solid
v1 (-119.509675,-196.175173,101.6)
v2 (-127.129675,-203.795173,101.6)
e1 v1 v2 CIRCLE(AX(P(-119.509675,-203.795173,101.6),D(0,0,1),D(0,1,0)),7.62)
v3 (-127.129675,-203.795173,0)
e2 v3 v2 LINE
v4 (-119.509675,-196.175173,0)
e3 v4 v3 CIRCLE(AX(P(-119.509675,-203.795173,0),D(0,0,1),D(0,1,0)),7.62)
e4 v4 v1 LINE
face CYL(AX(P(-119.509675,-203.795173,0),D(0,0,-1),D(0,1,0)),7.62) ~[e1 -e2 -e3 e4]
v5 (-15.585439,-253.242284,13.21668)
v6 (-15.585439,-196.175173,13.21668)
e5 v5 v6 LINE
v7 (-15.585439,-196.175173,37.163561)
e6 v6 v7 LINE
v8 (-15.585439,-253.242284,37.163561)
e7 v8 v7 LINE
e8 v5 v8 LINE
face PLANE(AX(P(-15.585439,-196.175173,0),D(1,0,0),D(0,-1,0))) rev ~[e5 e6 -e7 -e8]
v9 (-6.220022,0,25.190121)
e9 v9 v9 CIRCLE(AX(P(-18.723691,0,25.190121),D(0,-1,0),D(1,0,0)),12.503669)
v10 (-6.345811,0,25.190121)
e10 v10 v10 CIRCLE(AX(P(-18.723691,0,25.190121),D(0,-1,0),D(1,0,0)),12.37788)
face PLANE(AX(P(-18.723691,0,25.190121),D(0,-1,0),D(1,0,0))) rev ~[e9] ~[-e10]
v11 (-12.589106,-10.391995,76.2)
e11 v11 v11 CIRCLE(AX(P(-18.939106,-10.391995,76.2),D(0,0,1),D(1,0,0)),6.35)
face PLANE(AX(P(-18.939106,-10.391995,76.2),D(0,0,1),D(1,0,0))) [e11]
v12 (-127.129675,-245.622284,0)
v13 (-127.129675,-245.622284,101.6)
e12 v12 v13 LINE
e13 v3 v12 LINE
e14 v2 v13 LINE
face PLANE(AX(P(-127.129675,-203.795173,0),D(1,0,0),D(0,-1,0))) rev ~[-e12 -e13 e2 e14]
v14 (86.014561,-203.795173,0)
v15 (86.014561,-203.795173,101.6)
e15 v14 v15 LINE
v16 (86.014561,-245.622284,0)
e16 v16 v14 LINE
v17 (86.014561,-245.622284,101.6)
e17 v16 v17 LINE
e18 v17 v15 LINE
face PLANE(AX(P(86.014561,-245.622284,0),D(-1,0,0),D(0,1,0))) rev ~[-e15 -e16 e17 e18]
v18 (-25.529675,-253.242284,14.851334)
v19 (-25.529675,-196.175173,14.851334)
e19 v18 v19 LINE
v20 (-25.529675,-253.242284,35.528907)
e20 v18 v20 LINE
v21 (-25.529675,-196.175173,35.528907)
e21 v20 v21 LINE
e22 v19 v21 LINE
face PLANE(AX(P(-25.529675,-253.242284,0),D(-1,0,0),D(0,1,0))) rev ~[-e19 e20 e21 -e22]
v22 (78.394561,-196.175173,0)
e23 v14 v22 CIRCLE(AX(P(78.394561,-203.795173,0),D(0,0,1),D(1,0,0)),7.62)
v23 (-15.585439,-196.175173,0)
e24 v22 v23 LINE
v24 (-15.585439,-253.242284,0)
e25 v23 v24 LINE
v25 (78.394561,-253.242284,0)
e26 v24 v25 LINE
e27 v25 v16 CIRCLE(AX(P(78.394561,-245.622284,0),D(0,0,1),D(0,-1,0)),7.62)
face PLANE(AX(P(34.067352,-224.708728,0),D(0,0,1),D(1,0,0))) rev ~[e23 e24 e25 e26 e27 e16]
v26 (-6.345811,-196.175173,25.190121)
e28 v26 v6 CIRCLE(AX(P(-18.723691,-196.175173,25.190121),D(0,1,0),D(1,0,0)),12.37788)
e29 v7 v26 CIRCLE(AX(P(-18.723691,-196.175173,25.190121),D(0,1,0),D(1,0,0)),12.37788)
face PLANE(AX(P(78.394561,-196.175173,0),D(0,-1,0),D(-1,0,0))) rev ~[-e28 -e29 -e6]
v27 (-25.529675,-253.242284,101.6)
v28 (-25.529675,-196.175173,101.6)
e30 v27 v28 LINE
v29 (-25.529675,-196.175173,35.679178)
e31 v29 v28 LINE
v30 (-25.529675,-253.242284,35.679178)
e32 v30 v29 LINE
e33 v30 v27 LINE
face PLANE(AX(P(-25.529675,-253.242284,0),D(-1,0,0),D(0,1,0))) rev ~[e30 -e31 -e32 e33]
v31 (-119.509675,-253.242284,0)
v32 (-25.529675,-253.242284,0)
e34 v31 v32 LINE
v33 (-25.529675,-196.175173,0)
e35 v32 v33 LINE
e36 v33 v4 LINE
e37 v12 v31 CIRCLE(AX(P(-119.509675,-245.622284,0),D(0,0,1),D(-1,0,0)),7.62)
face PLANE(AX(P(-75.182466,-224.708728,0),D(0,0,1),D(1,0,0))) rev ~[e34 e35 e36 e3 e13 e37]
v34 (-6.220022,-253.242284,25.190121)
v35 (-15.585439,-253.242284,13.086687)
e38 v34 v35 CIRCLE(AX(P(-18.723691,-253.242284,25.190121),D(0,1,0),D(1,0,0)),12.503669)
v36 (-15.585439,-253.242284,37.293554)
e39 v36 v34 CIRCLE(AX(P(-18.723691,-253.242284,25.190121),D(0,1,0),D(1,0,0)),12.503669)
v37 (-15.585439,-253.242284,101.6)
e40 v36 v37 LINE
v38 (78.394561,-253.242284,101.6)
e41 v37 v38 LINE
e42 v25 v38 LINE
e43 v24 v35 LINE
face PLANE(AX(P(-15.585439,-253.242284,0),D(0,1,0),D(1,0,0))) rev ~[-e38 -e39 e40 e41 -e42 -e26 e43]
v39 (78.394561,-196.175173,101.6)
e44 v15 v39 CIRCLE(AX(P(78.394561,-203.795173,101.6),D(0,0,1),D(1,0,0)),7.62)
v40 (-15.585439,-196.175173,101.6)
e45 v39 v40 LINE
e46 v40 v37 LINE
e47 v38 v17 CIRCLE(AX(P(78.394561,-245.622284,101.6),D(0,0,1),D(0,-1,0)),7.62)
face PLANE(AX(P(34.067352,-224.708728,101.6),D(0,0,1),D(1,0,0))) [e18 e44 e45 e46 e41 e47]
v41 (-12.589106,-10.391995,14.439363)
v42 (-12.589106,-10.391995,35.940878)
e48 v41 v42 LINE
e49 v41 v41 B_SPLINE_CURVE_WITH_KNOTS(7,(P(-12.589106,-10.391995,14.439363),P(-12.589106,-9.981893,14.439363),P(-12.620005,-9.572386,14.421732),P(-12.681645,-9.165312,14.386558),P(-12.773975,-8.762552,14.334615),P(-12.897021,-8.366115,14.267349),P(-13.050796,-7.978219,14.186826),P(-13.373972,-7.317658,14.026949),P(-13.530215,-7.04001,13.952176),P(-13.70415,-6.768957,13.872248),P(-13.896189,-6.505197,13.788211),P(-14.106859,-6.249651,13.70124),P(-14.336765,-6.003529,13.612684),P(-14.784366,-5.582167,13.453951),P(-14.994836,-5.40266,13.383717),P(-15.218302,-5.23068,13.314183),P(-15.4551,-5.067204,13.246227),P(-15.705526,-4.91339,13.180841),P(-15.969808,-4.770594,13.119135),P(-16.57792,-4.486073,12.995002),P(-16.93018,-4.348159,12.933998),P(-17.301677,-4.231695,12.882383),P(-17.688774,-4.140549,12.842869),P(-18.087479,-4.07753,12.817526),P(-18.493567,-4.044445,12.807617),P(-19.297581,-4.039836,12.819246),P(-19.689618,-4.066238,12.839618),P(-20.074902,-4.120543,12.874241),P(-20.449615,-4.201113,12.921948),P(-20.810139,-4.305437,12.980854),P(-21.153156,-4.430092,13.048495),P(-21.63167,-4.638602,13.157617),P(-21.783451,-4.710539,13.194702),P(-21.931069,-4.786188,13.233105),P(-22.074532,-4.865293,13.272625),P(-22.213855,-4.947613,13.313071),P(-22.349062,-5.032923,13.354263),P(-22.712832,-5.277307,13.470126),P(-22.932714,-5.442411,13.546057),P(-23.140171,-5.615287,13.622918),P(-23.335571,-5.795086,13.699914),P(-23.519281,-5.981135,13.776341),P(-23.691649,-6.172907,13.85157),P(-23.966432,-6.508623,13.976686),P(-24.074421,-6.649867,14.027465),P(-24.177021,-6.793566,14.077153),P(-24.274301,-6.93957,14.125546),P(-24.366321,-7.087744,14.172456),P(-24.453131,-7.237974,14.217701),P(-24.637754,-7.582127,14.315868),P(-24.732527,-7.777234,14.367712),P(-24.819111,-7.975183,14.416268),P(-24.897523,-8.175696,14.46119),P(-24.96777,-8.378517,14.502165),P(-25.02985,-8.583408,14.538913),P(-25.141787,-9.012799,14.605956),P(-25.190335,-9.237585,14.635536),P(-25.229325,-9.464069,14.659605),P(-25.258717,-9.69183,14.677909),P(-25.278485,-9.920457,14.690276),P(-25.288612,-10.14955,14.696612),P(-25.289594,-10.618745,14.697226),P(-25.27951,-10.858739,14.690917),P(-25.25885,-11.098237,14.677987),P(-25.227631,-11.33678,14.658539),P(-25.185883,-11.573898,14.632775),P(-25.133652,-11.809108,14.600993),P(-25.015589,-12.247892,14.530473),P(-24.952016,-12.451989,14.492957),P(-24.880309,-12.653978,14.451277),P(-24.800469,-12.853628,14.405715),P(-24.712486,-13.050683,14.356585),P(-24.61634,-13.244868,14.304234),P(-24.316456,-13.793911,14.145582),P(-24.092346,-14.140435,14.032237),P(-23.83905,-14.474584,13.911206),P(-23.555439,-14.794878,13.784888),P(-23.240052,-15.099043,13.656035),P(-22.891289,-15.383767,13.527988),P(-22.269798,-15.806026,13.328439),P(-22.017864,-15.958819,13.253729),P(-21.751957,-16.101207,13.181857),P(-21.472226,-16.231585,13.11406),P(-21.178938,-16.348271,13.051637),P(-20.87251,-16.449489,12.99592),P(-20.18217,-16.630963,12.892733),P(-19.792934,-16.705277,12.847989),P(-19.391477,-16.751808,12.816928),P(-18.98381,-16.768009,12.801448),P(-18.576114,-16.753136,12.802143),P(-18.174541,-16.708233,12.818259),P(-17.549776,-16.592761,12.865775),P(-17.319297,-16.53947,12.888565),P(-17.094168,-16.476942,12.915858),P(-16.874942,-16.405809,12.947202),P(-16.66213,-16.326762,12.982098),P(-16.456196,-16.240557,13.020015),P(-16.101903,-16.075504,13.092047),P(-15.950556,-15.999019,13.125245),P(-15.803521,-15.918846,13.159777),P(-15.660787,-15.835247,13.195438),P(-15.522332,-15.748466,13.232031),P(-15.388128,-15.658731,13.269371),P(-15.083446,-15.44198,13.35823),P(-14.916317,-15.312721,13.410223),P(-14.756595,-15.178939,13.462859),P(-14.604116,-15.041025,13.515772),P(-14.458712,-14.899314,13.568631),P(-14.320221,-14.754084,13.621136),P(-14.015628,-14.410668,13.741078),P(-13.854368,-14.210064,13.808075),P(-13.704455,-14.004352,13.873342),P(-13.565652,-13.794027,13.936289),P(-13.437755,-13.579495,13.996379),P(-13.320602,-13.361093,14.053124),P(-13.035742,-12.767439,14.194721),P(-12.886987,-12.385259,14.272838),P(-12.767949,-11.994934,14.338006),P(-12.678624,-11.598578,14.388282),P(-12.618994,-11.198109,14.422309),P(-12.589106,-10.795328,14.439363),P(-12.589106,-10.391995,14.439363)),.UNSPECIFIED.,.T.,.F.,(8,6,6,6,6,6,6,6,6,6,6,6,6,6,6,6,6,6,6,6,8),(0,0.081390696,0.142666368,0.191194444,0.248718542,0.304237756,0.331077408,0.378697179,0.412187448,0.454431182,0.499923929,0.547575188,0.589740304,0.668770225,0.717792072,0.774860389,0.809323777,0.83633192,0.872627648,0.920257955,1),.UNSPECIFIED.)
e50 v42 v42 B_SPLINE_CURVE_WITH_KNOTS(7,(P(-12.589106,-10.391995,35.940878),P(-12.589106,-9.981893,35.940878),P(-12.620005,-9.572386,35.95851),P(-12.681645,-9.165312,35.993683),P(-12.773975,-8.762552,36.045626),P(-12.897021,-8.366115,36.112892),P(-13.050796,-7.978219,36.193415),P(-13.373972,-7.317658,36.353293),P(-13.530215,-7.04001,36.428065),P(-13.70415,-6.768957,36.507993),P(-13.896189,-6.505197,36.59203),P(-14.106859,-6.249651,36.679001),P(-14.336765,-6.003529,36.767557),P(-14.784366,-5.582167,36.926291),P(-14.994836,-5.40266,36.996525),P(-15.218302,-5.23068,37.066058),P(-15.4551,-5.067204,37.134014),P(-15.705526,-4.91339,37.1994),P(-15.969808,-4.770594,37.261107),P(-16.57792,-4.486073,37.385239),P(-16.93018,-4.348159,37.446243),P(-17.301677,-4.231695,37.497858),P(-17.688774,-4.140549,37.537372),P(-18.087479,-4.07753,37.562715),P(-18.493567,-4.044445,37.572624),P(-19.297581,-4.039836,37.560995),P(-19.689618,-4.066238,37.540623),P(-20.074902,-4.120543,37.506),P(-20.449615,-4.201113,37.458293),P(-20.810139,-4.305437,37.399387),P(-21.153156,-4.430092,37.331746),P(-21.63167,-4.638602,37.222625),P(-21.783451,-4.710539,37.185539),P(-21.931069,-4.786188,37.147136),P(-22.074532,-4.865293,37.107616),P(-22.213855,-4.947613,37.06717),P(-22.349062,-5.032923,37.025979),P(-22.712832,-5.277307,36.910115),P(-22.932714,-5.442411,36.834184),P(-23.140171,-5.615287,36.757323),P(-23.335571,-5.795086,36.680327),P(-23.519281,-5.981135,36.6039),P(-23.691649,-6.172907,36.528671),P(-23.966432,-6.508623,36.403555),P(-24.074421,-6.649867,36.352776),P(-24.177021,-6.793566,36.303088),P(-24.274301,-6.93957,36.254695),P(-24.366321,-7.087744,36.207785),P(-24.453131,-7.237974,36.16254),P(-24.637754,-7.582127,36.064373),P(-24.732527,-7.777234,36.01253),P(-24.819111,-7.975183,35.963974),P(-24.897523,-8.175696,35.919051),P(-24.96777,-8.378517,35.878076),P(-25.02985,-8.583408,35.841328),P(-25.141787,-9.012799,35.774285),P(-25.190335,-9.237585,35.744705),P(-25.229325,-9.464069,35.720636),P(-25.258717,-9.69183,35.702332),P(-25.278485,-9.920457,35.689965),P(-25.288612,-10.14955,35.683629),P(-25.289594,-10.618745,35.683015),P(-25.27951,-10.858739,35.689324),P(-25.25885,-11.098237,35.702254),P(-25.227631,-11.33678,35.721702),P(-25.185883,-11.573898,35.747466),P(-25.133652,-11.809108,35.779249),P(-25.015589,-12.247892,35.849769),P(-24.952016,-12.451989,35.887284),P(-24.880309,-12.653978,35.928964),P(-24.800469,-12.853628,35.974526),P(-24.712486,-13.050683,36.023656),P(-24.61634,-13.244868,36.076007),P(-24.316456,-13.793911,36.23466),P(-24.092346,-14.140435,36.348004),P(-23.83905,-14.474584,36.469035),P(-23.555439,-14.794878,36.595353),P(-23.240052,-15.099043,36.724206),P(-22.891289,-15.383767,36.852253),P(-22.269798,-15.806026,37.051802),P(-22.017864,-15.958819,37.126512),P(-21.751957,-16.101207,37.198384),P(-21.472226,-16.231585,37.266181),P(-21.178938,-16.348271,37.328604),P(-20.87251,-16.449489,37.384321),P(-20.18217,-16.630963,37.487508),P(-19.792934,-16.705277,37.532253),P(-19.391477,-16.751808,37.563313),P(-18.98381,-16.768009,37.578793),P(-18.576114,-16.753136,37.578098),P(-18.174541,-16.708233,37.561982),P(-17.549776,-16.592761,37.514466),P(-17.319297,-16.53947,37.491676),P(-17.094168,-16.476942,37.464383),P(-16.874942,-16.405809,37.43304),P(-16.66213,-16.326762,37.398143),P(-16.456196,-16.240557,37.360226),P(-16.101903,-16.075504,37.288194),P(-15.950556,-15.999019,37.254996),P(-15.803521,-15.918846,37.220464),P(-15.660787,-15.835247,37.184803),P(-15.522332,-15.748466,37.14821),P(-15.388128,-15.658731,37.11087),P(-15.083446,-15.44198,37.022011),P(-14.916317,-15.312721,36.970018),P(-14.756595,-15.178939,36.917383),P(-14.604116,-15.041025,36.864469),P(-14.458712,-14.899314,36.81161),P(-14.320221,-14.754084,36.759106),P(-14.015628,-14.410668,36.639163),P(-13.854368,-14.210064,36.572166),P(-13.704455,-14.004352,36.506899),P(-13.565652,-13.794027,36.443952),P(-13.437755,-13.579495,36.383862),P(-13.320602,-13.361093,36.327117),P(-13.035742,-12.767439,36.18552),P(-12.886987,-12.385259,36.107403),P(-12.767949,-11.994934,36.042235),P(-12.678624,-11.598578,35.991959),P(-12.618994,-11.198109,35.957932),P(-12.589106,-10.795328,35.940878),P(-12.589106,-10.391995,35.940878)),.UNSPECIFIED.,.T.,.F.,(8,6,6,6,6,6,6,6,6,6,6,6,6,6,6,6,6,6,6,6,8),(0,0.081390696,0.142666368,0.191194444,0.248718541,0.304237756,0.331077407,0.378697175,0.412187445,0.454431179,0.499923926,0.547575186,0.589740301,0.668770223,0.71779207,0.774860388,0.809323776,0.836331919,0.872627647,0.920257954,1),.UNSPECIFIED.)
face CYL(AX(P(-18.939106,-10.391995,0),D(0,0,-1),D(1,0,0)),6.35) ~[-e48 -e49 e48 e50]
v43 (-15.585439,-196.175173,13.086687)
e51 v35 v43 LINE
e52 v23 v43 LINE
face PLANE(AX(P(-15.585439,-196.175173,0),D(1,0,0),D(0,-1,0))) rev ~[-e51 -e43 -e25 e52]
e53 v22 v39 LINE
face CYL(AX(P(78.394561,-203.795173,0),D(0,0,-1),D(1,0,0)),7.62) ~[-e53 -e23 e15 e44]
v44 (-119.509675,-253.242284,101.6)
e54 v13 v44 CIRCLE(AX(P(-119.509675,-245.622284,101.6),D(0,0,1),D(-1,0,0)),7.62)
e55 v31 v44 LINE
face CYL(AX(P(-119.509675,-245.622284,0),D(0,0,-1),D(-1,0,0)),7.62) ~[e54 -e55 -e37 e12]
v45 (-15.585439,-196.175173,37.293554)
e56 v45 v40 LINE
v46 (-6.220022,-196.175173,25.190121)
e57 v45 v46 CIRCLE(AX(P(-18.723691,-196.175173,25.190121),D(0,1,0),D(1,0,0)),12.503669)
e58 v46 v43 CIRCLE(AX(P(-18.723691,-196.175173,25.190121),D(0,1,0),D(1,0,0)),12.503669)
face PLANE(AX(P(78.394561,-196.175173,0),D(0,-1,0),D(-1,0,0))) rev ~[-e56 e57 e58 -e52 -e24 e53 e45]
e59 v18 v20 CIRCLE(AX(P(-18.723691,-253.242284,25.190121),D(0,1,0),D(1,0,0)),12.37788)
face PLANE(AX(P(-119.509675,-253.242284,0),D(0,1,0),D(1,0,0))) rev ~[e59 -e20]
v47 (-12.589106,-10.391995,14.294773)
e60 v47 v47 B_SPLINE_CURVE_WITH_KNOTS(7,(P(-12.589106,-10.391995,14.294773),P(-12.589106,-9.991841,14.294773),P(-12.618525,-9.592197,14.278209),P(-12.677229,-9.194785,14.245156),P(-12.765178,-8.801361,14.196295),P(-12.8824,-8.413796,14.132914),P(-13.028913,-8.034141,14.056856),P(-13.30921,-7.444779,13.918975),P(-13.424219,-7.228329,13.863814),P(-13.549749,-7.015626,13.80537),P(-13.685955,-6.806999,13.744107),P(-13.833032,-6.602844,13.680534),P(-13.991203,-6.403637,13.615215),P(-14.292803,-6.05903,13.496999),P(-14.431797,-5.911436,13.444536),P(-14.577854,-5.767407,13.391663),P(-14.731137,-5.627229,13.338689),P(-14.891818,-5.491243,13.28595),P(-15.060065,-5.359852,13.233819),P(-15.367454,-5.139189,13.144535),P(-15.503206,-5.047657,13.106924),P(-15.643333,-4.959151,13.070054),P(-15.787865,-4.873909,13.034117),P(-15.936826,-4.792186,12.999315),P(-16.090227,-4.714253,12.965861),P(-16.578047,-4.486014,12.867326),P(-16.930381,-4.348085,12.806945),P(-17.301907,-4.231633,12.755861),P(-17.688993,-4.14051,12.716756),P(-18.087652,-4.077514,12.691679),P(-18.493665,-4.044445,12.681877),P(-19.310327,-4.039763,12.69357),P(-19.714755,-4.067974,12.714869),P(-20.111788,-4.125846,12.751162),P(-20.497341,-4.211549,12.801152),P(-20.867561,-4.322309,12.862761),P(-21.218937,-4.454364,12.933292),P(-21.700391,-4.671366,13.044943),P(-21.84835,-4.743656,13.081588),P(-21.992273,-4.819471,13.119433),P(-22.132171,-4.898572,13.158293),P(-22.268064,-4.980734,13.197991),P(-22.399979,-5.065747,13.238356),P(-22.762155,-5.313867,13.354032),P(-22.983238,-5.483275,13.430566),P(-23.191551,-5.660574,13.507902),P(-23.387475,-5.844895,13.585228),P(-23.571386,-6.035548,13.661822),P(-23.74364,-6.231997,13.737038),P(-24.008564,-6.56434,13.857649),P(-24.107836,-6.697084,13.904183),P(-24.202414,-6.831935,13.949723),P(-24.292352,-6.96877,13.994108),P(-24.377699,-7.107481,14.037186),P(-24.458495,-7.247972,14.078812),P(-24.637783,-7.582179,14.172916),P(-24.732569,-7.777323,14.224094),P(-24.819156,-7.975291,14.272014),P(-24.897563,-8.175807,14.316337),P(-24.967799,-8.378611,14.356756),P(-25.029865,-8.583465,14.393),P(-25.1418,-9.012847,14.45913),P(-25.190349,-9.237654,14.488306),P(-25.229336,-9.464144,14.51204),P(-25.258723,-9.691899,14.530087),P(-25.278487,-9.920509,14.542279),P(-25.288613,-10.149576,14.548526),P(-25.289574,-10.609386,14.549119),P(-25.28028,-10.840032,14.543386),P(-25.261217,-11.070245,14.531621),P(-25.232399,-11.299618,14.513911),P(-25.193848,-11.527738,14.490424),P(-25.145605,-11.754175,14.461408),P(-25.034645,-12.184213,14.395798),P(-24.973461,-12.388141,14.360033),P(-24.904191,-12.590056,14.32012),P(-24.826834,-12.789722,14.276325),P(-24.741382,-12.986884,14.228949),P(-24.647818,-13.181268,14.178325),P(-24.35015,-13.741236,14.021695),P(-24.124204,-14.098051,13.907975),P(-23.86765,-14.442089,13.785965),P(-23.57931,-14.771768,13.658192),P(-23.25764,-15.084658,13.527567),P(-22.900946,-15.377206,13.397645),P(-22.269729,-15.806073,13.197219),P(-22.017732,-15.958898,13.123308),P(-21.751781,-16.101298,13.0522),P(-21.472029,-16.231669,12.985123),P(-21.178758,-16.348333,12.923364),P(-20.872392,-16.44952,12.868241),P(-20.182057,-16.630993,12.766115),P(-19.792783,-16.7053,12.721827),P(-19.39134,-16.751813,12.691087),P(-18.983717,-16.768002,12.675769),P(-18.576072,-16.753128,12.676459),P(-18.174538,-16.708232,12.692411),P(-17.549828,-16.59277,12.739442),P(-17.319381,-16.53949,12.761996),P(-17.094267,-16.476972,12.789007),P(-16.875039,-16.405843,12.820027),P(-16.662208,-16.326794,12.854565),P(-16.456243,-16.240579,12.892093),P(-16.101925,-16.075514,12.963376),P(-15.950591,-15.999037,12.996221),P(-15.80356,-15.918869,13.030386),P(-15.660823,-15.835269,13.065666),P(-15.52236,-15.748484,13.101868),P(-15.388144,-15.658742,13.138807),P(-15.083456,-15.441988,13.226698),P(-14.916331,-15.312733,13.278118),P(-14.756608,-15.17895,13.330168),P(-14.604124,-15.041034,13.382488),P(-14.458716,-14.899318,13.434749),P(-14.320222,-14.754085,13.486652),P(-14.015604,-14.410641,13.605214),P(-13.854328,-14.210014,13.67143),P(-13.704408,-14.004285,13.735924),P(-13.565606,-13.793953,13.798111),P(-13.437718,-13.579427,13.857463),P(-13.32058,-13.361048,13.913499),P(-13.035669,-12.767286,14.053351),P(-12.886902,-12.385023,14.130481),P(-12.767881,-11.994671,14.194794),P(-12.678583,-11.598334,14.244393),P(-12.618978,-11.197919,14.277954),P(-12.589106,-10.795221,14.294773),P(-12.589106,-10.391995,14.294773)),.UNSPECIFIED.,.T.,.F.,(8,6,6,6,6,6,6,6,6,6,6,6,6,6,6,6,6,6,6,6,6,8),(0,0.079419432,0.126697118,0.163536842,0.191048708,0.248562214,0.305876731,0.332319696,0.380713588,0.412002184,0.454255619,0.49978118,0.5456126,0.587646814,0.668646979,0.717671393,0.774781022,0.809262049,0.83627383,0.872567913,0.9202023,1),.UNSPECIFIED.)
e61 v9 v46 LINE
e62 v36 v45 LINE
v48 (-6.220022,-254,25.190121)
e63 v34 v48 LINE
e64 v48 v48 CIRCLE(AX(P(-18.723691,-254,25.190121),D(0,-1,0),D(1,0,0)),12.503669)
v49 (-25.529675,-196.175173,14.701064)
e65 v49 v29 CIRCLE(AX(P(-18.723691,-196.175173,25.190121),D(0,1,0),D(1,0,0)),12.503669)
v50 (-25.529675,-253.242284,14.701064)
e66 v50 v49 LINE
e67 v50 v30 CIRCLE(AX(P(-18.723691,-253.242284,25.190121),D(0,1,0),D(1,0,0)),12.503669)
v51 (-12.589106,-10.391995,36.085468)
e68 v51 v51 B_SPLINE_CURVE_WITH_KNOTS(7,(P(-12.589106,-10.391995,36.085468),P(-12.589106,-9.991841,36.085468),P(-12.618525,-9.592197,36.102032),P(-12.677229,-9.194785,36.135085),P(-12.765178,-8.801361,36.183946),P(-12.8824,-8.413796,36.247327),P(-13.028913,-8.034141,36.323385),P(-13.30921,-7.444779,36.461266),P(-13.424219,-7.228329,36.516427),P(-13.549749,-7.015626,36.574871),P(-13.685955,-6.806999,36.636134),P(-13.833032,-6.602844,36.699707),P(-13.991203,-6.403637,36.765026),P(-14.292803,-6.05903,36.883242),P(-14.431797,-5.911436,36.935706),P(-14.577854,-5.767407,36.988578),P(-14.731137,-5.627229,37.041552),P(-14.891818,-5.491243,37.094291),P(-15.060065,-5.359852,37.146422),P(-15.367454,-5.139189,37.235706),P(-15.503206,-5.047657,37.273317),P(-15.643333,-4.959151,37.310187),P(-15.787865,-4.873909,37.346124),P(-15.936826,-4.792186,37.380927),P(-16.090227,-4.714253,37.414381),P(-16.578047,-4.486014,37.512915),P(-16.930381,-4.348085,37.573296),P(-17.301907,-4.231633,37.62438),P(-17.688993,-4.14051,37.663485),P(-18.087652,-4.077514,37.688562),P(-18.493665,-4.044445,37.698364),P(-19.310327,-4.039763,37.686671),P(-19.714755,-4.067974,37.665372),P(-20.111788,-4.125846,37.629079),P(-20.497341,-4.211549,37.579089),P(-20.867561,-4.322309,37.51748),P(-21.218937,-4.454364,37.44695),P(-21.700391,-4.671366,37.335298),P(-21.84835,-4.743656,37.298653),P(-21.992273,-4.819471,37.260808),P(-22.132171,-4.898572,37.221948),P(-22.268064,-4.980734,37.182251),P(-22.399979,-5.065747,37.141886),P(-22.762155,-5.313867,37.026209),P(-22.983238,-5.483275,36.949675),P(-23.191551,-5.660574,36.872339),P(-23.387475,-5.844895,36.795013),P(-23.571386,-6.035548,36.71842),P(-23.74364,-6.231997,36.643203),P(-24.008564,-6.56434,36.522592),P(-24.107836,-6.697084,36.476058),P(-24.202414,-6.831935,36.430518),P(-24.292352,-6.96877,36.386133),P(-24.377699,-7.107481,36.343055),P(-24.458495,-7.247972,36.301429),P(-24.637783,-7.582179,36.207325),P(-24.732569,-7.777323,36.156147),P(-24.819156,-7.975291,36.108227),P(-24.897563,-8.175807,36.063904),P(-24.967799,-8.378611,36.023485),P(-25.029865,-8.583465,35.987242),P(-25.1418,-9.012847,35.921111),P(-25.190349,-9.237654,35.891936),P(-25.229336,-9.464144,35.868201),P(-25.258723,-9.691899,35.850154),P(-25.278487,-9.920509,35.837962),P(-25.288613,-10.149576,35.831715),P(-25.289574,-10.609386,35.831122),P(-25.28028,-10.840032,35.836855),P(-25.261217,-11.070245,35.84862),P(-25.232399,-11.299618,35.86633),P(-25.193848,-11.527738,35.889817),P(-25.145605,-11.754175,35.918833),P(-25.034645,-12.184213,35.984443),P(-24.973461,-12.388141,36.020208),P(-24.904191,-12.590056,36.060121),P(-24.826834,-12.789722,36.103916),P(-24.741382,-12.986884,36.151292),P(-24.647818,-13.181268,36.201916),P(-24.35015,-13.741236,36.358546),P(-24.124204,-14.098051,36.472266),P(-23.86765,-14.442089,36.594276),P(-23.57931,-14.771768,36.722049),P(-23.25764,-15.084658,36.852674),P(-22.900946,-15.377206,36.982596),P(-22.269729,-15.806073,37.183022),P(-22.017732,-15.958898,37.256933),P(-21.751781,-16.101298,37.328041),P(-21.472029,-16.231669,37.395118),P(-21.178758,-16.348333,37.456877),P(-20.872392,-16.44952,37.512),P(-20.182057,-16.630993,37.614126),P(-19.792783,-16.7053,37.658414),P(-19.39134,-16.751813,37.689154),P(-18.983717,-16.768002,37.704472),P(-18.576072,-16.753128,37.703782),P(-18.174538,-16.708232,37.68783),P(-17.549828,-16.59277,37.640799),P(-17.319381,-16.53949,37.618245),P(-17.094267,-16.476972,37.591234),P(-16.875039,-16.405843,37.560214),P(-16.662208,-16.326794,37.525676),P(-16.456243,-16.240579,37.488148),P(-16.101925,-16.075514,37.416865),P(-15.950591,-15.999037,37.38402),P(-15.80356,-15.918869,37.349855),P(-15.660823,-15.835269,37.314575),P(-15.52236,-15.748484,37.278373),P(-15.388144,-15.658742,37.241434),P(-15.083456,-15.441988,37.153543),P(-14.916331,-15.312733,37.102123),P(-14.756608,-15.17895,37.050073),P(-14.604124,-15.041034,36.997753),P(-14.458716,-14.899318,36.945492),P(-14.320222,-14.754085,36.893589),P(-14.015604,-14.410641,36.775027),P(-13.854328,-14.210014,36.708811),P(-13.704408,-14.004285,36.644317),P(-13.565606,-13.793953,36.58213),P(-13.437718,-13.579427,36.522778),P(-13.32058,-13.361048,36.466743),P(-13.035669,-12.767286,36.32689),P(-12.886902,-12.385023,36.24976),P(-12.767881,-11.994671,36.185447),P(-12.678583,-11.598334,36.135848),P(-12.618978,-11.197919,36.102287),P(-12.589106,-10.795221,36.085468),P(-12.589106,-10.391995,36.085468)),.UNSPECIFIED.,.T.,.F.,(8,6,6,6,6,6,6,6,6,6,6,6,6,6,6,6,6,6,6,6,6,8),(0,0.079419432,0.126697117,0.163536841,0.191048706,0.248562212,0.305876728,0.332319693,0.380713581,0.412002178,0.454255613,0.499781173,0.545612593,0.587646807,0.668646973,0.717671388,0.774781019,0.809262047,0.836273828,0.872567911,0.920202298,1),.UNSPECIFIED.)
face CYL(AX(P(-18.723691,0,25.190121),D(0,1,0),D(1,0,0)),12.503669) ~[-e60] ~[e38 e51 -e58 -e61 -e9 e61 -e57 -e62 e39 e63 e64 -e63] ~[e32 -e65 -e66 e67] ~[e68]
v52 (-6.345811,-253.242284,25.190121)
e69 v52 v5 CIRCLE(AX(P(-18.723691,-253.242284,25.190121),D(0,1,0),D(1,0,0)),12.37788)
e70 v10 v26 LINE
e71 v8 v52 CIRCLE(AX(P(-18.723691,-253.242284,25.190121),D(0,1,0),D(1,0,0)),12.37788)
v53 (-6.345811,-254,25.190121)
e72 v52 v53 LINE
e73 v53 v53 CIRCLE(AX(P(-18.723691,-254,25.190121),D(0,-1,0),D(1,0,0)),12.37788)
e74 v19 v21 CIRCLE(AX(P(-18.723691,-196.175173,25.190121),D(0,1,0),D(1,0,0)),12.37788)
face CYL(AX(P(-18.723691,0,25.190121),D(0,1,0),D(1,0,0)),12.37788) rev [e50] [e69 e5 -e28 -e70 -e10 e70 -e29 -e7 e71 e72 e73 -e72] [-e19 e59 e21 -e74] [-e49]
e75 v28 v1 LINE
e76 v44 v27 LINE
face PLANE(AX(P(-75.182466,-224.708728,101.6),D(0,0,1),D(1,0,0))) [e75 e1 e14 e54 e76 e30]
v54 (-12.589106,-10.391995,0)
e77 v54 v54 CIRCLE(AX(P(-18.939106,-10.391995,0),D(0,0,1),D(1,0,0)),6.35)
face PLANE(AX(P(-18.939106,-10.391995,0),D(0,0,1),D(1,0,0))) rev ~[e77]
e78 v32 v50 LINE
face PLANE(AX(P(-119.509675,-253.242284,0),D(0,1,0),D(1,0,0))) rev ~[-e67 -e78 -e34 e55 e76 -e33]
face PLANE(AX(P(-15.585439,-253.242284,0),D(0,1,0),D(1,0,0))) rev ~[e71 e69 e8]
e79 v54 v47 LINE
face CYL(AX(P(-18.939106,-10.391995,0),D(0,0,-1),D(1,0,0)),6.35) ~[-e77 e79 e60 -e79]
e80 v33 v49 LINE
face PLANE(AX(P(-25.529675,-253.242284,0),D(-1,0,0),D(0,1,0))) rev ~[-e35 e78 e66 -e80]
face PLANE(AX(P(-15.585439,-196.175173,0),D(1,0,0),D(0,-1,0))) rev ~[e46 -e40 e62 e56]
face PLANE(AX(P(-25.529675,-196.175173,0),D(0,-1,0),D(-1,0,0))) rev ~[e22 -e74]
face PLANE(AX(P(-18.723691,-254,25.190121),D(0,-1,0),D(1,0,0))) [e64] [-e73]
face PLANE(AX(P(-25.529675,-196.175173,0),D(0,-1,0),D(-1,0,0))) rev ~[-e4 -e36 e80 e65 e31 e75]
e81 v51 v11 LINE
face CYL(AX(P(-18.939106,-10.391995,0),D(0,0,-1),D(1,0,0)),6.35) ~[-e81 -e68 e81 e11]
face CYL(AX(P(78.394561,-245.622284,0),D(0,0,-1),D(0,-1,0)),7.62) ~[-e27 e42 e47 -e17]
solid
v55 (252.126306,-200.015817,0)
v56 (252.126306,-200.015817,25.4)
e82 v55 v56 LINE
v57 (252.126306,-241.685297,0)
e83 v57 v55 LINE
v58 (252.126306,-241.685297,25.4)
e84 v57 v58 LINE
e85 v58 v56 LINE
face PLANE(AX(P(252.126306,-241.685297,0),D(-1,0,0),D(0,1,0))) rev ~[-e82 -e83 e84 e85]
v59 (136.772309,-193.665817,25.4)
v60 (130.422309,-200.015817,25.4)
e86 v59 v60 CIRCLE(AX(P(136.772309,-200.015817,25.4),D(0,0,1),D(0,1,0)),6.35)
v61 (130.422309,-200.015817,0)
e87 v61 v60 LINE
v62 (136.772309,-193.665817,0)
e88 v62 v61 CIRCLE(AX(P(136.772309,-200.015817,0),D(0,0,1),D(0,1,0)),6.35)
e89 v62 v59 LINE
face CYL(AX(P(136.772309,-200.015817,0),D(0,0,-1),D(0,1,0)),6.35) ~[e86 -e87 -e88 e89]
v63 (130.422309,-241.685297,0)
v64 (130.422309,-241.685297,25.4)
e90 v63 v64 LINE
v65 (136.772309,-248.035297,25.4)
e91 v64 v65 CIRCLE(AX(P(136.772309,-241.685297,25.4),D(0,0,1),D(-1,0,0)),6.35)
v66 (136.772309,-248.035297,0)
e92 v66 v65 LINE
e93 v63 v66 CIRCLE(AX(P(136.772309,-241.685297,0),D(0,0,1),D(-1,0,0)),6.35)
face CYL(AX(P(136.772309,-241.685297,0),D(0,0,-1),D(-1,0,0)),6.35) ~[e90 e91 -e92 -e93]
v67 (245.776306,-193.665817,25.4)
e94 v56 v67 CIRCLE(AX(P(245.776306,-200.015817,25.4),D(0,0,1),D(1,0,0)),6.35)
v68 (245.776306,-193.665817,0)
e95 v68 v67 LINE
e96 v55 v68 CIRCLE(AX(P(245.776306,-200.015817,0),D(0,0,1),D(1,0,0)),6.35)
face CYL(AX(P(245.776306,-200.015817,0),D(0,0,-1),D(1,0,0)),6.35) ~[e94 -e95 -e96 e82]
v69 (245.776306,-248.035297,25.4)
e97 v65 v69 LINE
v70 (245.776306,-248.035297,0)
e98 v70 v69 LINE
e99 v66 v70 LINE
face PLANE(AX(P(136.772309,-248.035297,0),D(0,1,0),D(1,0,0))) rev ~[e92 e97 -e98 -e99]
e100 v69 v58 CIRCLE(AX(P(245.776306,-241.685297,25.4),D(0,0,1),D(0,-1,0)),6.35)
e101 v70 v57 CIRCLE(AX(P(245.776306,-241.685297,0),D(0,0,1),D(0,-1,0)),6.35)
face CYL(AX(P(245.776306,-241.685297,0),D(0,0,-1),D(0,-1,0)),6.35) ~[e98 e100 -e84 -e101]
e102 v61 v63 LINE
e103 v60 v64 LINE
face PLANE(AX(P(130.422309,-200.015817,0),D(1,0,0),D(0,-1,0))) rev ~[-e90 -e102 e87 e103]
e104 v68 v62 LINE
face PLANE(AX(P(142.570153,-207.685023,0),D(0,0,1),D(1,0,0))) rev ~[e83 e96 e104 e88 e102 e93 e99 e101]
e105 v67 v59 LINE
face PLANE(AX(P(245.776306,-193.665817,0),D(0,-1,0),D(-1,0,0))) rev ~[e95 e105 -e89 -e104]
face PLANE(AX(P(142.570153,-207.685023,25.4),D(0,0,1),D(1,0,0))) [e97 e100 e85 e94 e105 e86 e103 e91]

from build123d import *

# Parameters (mm, degrees)
F0_R     = 12.5036687166
F0_R_2   = 12.3778800523
F1_DEPTH = 254
F3_DEPTH = 101.6
F4_R     = 6.35
F5_DEPTH = 76.2
F6_W     = 25.5638659
F6_H     = 27.1847397089
F7_DEPTH = 25.4


with BuildPart() as f1:
    # F0 (on Front) → F1 (new body)
    with BuildSketch(Plane.XZ):
        with Locations((-18.7236908823, 25.1901205629)):
            Circle(F0_R)
        with Locations((-18.7236908823, 25.1901205629)):
            Circle(F0_R_2, mode=Mode.SUBTRACT)
    extrude(amount=F1_DEPTH)

    # F2 (on Top) → F3 (join)
    with BuildSketch(Plane.XY):
        with BuildLine():
            Line((-25.5296746087, -253.2422840595), (-25.5296746087, -196.175172925))
            Line((-25.5296746087, -196.175172925), (-119.5096746087, -196.175172925))
            ThreePointArc((-119.5096746087, -196.175172925), (-124.8978282813, -198.4070192524), (-127.1296746087, -203.795172925))
            Line((-127.1296746087, -203.795172925), (-127.1296746087, -245.6222840595))
            ThreePointArc((-127.1296746087, -245.6222840595), (-124.8978282813, -251.0104377322), (-119.5096746087, -253.2422840595))
            Line((-119.5096746087, -253.2422840595), (-25.5296746087, -253.2422840595))
        make_face()
        with BuildLine():
            Line((-15.5854386449, -253.2422840595), (78.3945613551, -253.2422840595))
            ThreePointArc((78.3945613551, -253.2422840595), (83.7827150278, -251.0104377322), (86.0145613551, -245.6222840595))
            Line((86.0145613551, -245.6222840595), (86.0145613551, -203.795172925))
            ThreePointArc((86.0145613551, -203.795172925), (83.7827150278, -198.4070192524), (78.3945613551, -196.175172925))
            Line((78.3945613551, -196.175172925), (-15.5854386449, -196.175172925))
            Line((-15.5854386449, -196.175172925), (-15.5854386449, -253.2422840595))
        make_face()
    extrude(amount=F3_DEPTH)

    # F4 (on Top) → F5 (join)
    with BuildSketch(Plane.XY):
        with Locations((-18.9391057938, -10.3919953108)):
            Circle(F4_R)
    extrude(amount=F5_DEPTH)


with BuildPart() as f7:
    # F6 (on Top) → F7 (new body)
    with BuildSketch(Plane.XY):
        with BuildLine():
            Line((153.9690494537, -193.66581738), (136.772309041, -193.66581738))
            ThreePointArc((136.772309041, -193.66581738), (132.2821809805, -195.5256893194), (130.422309041, -200.01581738))
            Line((130.422309041, -200.01581738), (130.422309041, -220.8505570889))
            Line((130.422309041, -220.8505570889), (153.9690494537, -220.8505570889))
            Line((153.9690494537, -220.8505570889), (153.9690494537, -193.66581738))
        make_face()
        with BuildLine():
            Line((153.9690494537, -248.0352967978), (153.9690494537, -220.8505570889))
            Line((153.9690494537, -220.8505570889), (130.422309041, -220.8505570889))
            Line((130.422309041, -220.8505570889), (130.422309041, -241.6852967978))
            ThreePointArc((130.422309041, -241.6852967978), (132.2821809805, -246.1754248583), (136.772309041, -248.0352967978))
            Line((136.772309041, -248.0352967978), (153.9690494537, -248.0352967978))
        make_face()
        with BuildLine():
            Line((252.1263062954, -220.8505570889), (229.848954941, -220.8505570889))
            Line((229.848954941, -220.8505570889), (229.8617810011, -248.0352967978))
            Line((229.8617810011, -248.0352967978), (245.7763062954, -248.0352967978))
            ThreePointArc((245.7763062954, -248.0352967978), (250.2664343559, -246.1754248583), (252.1263062954, -241.6852967978))
            Line((252.1263062954, -241.6852967978), (252.1263062954, -220.8505570889))
        make_face()
        with Locations((166.7509824038, -207.2581872344)):
            Rectangle(F6_W, F6_H)
        Polygon((204.6531507446, -193.66581738), (179.5329153538, -193.66581738), (179.5329153538, -220.8505570889), (204.6582548496, -220.8505570889), align=None)
        with Locations((166.7509824038, -234.4429269433)):
            Rectangle(F6_W, F6_H)
        Polygon((204.6582548496, -220.8505570889), (179.5329153538, -220.8505570889), (179.5329153538, -248.0352967978), (204.6633589546, -248.0352967978), align=None)
        Polygon((229.848954941, -220.8505570889), (204.6582548496, -220.8505570889), (204.6633589546, -248.0352967978), (229.8617810011, -248.0352967978), align=None)
        Polygon((229.836128881, -193.66581738), (204.6531507446, -193.66581738), (204.6582548496, -220.8505570889), (229.848954941, -220.8505570889), align=None)
        with BuildLine():
            Line((245.7763062954, -193.66581738), (229.836128881, -193.66581738))
            Line((229.836128881, -193.66581738), (229.848954941, -220.8505570889))
            Line((229.848954941, -220.8505570889), (252.1263062954, -220.8505570889))
            Line((252.1263062954, -220.8505570889), (252.1263062954, -200.01581738))
            ThreePointArc((252.1263062954, -200.01581738), (250.2664343559, -195.5256893194), (245.7763062954, -193.66581738))
        make_face()
    extrude(amount=F7_DEPTH)


solid = Compound([f1.part, f7.part])
